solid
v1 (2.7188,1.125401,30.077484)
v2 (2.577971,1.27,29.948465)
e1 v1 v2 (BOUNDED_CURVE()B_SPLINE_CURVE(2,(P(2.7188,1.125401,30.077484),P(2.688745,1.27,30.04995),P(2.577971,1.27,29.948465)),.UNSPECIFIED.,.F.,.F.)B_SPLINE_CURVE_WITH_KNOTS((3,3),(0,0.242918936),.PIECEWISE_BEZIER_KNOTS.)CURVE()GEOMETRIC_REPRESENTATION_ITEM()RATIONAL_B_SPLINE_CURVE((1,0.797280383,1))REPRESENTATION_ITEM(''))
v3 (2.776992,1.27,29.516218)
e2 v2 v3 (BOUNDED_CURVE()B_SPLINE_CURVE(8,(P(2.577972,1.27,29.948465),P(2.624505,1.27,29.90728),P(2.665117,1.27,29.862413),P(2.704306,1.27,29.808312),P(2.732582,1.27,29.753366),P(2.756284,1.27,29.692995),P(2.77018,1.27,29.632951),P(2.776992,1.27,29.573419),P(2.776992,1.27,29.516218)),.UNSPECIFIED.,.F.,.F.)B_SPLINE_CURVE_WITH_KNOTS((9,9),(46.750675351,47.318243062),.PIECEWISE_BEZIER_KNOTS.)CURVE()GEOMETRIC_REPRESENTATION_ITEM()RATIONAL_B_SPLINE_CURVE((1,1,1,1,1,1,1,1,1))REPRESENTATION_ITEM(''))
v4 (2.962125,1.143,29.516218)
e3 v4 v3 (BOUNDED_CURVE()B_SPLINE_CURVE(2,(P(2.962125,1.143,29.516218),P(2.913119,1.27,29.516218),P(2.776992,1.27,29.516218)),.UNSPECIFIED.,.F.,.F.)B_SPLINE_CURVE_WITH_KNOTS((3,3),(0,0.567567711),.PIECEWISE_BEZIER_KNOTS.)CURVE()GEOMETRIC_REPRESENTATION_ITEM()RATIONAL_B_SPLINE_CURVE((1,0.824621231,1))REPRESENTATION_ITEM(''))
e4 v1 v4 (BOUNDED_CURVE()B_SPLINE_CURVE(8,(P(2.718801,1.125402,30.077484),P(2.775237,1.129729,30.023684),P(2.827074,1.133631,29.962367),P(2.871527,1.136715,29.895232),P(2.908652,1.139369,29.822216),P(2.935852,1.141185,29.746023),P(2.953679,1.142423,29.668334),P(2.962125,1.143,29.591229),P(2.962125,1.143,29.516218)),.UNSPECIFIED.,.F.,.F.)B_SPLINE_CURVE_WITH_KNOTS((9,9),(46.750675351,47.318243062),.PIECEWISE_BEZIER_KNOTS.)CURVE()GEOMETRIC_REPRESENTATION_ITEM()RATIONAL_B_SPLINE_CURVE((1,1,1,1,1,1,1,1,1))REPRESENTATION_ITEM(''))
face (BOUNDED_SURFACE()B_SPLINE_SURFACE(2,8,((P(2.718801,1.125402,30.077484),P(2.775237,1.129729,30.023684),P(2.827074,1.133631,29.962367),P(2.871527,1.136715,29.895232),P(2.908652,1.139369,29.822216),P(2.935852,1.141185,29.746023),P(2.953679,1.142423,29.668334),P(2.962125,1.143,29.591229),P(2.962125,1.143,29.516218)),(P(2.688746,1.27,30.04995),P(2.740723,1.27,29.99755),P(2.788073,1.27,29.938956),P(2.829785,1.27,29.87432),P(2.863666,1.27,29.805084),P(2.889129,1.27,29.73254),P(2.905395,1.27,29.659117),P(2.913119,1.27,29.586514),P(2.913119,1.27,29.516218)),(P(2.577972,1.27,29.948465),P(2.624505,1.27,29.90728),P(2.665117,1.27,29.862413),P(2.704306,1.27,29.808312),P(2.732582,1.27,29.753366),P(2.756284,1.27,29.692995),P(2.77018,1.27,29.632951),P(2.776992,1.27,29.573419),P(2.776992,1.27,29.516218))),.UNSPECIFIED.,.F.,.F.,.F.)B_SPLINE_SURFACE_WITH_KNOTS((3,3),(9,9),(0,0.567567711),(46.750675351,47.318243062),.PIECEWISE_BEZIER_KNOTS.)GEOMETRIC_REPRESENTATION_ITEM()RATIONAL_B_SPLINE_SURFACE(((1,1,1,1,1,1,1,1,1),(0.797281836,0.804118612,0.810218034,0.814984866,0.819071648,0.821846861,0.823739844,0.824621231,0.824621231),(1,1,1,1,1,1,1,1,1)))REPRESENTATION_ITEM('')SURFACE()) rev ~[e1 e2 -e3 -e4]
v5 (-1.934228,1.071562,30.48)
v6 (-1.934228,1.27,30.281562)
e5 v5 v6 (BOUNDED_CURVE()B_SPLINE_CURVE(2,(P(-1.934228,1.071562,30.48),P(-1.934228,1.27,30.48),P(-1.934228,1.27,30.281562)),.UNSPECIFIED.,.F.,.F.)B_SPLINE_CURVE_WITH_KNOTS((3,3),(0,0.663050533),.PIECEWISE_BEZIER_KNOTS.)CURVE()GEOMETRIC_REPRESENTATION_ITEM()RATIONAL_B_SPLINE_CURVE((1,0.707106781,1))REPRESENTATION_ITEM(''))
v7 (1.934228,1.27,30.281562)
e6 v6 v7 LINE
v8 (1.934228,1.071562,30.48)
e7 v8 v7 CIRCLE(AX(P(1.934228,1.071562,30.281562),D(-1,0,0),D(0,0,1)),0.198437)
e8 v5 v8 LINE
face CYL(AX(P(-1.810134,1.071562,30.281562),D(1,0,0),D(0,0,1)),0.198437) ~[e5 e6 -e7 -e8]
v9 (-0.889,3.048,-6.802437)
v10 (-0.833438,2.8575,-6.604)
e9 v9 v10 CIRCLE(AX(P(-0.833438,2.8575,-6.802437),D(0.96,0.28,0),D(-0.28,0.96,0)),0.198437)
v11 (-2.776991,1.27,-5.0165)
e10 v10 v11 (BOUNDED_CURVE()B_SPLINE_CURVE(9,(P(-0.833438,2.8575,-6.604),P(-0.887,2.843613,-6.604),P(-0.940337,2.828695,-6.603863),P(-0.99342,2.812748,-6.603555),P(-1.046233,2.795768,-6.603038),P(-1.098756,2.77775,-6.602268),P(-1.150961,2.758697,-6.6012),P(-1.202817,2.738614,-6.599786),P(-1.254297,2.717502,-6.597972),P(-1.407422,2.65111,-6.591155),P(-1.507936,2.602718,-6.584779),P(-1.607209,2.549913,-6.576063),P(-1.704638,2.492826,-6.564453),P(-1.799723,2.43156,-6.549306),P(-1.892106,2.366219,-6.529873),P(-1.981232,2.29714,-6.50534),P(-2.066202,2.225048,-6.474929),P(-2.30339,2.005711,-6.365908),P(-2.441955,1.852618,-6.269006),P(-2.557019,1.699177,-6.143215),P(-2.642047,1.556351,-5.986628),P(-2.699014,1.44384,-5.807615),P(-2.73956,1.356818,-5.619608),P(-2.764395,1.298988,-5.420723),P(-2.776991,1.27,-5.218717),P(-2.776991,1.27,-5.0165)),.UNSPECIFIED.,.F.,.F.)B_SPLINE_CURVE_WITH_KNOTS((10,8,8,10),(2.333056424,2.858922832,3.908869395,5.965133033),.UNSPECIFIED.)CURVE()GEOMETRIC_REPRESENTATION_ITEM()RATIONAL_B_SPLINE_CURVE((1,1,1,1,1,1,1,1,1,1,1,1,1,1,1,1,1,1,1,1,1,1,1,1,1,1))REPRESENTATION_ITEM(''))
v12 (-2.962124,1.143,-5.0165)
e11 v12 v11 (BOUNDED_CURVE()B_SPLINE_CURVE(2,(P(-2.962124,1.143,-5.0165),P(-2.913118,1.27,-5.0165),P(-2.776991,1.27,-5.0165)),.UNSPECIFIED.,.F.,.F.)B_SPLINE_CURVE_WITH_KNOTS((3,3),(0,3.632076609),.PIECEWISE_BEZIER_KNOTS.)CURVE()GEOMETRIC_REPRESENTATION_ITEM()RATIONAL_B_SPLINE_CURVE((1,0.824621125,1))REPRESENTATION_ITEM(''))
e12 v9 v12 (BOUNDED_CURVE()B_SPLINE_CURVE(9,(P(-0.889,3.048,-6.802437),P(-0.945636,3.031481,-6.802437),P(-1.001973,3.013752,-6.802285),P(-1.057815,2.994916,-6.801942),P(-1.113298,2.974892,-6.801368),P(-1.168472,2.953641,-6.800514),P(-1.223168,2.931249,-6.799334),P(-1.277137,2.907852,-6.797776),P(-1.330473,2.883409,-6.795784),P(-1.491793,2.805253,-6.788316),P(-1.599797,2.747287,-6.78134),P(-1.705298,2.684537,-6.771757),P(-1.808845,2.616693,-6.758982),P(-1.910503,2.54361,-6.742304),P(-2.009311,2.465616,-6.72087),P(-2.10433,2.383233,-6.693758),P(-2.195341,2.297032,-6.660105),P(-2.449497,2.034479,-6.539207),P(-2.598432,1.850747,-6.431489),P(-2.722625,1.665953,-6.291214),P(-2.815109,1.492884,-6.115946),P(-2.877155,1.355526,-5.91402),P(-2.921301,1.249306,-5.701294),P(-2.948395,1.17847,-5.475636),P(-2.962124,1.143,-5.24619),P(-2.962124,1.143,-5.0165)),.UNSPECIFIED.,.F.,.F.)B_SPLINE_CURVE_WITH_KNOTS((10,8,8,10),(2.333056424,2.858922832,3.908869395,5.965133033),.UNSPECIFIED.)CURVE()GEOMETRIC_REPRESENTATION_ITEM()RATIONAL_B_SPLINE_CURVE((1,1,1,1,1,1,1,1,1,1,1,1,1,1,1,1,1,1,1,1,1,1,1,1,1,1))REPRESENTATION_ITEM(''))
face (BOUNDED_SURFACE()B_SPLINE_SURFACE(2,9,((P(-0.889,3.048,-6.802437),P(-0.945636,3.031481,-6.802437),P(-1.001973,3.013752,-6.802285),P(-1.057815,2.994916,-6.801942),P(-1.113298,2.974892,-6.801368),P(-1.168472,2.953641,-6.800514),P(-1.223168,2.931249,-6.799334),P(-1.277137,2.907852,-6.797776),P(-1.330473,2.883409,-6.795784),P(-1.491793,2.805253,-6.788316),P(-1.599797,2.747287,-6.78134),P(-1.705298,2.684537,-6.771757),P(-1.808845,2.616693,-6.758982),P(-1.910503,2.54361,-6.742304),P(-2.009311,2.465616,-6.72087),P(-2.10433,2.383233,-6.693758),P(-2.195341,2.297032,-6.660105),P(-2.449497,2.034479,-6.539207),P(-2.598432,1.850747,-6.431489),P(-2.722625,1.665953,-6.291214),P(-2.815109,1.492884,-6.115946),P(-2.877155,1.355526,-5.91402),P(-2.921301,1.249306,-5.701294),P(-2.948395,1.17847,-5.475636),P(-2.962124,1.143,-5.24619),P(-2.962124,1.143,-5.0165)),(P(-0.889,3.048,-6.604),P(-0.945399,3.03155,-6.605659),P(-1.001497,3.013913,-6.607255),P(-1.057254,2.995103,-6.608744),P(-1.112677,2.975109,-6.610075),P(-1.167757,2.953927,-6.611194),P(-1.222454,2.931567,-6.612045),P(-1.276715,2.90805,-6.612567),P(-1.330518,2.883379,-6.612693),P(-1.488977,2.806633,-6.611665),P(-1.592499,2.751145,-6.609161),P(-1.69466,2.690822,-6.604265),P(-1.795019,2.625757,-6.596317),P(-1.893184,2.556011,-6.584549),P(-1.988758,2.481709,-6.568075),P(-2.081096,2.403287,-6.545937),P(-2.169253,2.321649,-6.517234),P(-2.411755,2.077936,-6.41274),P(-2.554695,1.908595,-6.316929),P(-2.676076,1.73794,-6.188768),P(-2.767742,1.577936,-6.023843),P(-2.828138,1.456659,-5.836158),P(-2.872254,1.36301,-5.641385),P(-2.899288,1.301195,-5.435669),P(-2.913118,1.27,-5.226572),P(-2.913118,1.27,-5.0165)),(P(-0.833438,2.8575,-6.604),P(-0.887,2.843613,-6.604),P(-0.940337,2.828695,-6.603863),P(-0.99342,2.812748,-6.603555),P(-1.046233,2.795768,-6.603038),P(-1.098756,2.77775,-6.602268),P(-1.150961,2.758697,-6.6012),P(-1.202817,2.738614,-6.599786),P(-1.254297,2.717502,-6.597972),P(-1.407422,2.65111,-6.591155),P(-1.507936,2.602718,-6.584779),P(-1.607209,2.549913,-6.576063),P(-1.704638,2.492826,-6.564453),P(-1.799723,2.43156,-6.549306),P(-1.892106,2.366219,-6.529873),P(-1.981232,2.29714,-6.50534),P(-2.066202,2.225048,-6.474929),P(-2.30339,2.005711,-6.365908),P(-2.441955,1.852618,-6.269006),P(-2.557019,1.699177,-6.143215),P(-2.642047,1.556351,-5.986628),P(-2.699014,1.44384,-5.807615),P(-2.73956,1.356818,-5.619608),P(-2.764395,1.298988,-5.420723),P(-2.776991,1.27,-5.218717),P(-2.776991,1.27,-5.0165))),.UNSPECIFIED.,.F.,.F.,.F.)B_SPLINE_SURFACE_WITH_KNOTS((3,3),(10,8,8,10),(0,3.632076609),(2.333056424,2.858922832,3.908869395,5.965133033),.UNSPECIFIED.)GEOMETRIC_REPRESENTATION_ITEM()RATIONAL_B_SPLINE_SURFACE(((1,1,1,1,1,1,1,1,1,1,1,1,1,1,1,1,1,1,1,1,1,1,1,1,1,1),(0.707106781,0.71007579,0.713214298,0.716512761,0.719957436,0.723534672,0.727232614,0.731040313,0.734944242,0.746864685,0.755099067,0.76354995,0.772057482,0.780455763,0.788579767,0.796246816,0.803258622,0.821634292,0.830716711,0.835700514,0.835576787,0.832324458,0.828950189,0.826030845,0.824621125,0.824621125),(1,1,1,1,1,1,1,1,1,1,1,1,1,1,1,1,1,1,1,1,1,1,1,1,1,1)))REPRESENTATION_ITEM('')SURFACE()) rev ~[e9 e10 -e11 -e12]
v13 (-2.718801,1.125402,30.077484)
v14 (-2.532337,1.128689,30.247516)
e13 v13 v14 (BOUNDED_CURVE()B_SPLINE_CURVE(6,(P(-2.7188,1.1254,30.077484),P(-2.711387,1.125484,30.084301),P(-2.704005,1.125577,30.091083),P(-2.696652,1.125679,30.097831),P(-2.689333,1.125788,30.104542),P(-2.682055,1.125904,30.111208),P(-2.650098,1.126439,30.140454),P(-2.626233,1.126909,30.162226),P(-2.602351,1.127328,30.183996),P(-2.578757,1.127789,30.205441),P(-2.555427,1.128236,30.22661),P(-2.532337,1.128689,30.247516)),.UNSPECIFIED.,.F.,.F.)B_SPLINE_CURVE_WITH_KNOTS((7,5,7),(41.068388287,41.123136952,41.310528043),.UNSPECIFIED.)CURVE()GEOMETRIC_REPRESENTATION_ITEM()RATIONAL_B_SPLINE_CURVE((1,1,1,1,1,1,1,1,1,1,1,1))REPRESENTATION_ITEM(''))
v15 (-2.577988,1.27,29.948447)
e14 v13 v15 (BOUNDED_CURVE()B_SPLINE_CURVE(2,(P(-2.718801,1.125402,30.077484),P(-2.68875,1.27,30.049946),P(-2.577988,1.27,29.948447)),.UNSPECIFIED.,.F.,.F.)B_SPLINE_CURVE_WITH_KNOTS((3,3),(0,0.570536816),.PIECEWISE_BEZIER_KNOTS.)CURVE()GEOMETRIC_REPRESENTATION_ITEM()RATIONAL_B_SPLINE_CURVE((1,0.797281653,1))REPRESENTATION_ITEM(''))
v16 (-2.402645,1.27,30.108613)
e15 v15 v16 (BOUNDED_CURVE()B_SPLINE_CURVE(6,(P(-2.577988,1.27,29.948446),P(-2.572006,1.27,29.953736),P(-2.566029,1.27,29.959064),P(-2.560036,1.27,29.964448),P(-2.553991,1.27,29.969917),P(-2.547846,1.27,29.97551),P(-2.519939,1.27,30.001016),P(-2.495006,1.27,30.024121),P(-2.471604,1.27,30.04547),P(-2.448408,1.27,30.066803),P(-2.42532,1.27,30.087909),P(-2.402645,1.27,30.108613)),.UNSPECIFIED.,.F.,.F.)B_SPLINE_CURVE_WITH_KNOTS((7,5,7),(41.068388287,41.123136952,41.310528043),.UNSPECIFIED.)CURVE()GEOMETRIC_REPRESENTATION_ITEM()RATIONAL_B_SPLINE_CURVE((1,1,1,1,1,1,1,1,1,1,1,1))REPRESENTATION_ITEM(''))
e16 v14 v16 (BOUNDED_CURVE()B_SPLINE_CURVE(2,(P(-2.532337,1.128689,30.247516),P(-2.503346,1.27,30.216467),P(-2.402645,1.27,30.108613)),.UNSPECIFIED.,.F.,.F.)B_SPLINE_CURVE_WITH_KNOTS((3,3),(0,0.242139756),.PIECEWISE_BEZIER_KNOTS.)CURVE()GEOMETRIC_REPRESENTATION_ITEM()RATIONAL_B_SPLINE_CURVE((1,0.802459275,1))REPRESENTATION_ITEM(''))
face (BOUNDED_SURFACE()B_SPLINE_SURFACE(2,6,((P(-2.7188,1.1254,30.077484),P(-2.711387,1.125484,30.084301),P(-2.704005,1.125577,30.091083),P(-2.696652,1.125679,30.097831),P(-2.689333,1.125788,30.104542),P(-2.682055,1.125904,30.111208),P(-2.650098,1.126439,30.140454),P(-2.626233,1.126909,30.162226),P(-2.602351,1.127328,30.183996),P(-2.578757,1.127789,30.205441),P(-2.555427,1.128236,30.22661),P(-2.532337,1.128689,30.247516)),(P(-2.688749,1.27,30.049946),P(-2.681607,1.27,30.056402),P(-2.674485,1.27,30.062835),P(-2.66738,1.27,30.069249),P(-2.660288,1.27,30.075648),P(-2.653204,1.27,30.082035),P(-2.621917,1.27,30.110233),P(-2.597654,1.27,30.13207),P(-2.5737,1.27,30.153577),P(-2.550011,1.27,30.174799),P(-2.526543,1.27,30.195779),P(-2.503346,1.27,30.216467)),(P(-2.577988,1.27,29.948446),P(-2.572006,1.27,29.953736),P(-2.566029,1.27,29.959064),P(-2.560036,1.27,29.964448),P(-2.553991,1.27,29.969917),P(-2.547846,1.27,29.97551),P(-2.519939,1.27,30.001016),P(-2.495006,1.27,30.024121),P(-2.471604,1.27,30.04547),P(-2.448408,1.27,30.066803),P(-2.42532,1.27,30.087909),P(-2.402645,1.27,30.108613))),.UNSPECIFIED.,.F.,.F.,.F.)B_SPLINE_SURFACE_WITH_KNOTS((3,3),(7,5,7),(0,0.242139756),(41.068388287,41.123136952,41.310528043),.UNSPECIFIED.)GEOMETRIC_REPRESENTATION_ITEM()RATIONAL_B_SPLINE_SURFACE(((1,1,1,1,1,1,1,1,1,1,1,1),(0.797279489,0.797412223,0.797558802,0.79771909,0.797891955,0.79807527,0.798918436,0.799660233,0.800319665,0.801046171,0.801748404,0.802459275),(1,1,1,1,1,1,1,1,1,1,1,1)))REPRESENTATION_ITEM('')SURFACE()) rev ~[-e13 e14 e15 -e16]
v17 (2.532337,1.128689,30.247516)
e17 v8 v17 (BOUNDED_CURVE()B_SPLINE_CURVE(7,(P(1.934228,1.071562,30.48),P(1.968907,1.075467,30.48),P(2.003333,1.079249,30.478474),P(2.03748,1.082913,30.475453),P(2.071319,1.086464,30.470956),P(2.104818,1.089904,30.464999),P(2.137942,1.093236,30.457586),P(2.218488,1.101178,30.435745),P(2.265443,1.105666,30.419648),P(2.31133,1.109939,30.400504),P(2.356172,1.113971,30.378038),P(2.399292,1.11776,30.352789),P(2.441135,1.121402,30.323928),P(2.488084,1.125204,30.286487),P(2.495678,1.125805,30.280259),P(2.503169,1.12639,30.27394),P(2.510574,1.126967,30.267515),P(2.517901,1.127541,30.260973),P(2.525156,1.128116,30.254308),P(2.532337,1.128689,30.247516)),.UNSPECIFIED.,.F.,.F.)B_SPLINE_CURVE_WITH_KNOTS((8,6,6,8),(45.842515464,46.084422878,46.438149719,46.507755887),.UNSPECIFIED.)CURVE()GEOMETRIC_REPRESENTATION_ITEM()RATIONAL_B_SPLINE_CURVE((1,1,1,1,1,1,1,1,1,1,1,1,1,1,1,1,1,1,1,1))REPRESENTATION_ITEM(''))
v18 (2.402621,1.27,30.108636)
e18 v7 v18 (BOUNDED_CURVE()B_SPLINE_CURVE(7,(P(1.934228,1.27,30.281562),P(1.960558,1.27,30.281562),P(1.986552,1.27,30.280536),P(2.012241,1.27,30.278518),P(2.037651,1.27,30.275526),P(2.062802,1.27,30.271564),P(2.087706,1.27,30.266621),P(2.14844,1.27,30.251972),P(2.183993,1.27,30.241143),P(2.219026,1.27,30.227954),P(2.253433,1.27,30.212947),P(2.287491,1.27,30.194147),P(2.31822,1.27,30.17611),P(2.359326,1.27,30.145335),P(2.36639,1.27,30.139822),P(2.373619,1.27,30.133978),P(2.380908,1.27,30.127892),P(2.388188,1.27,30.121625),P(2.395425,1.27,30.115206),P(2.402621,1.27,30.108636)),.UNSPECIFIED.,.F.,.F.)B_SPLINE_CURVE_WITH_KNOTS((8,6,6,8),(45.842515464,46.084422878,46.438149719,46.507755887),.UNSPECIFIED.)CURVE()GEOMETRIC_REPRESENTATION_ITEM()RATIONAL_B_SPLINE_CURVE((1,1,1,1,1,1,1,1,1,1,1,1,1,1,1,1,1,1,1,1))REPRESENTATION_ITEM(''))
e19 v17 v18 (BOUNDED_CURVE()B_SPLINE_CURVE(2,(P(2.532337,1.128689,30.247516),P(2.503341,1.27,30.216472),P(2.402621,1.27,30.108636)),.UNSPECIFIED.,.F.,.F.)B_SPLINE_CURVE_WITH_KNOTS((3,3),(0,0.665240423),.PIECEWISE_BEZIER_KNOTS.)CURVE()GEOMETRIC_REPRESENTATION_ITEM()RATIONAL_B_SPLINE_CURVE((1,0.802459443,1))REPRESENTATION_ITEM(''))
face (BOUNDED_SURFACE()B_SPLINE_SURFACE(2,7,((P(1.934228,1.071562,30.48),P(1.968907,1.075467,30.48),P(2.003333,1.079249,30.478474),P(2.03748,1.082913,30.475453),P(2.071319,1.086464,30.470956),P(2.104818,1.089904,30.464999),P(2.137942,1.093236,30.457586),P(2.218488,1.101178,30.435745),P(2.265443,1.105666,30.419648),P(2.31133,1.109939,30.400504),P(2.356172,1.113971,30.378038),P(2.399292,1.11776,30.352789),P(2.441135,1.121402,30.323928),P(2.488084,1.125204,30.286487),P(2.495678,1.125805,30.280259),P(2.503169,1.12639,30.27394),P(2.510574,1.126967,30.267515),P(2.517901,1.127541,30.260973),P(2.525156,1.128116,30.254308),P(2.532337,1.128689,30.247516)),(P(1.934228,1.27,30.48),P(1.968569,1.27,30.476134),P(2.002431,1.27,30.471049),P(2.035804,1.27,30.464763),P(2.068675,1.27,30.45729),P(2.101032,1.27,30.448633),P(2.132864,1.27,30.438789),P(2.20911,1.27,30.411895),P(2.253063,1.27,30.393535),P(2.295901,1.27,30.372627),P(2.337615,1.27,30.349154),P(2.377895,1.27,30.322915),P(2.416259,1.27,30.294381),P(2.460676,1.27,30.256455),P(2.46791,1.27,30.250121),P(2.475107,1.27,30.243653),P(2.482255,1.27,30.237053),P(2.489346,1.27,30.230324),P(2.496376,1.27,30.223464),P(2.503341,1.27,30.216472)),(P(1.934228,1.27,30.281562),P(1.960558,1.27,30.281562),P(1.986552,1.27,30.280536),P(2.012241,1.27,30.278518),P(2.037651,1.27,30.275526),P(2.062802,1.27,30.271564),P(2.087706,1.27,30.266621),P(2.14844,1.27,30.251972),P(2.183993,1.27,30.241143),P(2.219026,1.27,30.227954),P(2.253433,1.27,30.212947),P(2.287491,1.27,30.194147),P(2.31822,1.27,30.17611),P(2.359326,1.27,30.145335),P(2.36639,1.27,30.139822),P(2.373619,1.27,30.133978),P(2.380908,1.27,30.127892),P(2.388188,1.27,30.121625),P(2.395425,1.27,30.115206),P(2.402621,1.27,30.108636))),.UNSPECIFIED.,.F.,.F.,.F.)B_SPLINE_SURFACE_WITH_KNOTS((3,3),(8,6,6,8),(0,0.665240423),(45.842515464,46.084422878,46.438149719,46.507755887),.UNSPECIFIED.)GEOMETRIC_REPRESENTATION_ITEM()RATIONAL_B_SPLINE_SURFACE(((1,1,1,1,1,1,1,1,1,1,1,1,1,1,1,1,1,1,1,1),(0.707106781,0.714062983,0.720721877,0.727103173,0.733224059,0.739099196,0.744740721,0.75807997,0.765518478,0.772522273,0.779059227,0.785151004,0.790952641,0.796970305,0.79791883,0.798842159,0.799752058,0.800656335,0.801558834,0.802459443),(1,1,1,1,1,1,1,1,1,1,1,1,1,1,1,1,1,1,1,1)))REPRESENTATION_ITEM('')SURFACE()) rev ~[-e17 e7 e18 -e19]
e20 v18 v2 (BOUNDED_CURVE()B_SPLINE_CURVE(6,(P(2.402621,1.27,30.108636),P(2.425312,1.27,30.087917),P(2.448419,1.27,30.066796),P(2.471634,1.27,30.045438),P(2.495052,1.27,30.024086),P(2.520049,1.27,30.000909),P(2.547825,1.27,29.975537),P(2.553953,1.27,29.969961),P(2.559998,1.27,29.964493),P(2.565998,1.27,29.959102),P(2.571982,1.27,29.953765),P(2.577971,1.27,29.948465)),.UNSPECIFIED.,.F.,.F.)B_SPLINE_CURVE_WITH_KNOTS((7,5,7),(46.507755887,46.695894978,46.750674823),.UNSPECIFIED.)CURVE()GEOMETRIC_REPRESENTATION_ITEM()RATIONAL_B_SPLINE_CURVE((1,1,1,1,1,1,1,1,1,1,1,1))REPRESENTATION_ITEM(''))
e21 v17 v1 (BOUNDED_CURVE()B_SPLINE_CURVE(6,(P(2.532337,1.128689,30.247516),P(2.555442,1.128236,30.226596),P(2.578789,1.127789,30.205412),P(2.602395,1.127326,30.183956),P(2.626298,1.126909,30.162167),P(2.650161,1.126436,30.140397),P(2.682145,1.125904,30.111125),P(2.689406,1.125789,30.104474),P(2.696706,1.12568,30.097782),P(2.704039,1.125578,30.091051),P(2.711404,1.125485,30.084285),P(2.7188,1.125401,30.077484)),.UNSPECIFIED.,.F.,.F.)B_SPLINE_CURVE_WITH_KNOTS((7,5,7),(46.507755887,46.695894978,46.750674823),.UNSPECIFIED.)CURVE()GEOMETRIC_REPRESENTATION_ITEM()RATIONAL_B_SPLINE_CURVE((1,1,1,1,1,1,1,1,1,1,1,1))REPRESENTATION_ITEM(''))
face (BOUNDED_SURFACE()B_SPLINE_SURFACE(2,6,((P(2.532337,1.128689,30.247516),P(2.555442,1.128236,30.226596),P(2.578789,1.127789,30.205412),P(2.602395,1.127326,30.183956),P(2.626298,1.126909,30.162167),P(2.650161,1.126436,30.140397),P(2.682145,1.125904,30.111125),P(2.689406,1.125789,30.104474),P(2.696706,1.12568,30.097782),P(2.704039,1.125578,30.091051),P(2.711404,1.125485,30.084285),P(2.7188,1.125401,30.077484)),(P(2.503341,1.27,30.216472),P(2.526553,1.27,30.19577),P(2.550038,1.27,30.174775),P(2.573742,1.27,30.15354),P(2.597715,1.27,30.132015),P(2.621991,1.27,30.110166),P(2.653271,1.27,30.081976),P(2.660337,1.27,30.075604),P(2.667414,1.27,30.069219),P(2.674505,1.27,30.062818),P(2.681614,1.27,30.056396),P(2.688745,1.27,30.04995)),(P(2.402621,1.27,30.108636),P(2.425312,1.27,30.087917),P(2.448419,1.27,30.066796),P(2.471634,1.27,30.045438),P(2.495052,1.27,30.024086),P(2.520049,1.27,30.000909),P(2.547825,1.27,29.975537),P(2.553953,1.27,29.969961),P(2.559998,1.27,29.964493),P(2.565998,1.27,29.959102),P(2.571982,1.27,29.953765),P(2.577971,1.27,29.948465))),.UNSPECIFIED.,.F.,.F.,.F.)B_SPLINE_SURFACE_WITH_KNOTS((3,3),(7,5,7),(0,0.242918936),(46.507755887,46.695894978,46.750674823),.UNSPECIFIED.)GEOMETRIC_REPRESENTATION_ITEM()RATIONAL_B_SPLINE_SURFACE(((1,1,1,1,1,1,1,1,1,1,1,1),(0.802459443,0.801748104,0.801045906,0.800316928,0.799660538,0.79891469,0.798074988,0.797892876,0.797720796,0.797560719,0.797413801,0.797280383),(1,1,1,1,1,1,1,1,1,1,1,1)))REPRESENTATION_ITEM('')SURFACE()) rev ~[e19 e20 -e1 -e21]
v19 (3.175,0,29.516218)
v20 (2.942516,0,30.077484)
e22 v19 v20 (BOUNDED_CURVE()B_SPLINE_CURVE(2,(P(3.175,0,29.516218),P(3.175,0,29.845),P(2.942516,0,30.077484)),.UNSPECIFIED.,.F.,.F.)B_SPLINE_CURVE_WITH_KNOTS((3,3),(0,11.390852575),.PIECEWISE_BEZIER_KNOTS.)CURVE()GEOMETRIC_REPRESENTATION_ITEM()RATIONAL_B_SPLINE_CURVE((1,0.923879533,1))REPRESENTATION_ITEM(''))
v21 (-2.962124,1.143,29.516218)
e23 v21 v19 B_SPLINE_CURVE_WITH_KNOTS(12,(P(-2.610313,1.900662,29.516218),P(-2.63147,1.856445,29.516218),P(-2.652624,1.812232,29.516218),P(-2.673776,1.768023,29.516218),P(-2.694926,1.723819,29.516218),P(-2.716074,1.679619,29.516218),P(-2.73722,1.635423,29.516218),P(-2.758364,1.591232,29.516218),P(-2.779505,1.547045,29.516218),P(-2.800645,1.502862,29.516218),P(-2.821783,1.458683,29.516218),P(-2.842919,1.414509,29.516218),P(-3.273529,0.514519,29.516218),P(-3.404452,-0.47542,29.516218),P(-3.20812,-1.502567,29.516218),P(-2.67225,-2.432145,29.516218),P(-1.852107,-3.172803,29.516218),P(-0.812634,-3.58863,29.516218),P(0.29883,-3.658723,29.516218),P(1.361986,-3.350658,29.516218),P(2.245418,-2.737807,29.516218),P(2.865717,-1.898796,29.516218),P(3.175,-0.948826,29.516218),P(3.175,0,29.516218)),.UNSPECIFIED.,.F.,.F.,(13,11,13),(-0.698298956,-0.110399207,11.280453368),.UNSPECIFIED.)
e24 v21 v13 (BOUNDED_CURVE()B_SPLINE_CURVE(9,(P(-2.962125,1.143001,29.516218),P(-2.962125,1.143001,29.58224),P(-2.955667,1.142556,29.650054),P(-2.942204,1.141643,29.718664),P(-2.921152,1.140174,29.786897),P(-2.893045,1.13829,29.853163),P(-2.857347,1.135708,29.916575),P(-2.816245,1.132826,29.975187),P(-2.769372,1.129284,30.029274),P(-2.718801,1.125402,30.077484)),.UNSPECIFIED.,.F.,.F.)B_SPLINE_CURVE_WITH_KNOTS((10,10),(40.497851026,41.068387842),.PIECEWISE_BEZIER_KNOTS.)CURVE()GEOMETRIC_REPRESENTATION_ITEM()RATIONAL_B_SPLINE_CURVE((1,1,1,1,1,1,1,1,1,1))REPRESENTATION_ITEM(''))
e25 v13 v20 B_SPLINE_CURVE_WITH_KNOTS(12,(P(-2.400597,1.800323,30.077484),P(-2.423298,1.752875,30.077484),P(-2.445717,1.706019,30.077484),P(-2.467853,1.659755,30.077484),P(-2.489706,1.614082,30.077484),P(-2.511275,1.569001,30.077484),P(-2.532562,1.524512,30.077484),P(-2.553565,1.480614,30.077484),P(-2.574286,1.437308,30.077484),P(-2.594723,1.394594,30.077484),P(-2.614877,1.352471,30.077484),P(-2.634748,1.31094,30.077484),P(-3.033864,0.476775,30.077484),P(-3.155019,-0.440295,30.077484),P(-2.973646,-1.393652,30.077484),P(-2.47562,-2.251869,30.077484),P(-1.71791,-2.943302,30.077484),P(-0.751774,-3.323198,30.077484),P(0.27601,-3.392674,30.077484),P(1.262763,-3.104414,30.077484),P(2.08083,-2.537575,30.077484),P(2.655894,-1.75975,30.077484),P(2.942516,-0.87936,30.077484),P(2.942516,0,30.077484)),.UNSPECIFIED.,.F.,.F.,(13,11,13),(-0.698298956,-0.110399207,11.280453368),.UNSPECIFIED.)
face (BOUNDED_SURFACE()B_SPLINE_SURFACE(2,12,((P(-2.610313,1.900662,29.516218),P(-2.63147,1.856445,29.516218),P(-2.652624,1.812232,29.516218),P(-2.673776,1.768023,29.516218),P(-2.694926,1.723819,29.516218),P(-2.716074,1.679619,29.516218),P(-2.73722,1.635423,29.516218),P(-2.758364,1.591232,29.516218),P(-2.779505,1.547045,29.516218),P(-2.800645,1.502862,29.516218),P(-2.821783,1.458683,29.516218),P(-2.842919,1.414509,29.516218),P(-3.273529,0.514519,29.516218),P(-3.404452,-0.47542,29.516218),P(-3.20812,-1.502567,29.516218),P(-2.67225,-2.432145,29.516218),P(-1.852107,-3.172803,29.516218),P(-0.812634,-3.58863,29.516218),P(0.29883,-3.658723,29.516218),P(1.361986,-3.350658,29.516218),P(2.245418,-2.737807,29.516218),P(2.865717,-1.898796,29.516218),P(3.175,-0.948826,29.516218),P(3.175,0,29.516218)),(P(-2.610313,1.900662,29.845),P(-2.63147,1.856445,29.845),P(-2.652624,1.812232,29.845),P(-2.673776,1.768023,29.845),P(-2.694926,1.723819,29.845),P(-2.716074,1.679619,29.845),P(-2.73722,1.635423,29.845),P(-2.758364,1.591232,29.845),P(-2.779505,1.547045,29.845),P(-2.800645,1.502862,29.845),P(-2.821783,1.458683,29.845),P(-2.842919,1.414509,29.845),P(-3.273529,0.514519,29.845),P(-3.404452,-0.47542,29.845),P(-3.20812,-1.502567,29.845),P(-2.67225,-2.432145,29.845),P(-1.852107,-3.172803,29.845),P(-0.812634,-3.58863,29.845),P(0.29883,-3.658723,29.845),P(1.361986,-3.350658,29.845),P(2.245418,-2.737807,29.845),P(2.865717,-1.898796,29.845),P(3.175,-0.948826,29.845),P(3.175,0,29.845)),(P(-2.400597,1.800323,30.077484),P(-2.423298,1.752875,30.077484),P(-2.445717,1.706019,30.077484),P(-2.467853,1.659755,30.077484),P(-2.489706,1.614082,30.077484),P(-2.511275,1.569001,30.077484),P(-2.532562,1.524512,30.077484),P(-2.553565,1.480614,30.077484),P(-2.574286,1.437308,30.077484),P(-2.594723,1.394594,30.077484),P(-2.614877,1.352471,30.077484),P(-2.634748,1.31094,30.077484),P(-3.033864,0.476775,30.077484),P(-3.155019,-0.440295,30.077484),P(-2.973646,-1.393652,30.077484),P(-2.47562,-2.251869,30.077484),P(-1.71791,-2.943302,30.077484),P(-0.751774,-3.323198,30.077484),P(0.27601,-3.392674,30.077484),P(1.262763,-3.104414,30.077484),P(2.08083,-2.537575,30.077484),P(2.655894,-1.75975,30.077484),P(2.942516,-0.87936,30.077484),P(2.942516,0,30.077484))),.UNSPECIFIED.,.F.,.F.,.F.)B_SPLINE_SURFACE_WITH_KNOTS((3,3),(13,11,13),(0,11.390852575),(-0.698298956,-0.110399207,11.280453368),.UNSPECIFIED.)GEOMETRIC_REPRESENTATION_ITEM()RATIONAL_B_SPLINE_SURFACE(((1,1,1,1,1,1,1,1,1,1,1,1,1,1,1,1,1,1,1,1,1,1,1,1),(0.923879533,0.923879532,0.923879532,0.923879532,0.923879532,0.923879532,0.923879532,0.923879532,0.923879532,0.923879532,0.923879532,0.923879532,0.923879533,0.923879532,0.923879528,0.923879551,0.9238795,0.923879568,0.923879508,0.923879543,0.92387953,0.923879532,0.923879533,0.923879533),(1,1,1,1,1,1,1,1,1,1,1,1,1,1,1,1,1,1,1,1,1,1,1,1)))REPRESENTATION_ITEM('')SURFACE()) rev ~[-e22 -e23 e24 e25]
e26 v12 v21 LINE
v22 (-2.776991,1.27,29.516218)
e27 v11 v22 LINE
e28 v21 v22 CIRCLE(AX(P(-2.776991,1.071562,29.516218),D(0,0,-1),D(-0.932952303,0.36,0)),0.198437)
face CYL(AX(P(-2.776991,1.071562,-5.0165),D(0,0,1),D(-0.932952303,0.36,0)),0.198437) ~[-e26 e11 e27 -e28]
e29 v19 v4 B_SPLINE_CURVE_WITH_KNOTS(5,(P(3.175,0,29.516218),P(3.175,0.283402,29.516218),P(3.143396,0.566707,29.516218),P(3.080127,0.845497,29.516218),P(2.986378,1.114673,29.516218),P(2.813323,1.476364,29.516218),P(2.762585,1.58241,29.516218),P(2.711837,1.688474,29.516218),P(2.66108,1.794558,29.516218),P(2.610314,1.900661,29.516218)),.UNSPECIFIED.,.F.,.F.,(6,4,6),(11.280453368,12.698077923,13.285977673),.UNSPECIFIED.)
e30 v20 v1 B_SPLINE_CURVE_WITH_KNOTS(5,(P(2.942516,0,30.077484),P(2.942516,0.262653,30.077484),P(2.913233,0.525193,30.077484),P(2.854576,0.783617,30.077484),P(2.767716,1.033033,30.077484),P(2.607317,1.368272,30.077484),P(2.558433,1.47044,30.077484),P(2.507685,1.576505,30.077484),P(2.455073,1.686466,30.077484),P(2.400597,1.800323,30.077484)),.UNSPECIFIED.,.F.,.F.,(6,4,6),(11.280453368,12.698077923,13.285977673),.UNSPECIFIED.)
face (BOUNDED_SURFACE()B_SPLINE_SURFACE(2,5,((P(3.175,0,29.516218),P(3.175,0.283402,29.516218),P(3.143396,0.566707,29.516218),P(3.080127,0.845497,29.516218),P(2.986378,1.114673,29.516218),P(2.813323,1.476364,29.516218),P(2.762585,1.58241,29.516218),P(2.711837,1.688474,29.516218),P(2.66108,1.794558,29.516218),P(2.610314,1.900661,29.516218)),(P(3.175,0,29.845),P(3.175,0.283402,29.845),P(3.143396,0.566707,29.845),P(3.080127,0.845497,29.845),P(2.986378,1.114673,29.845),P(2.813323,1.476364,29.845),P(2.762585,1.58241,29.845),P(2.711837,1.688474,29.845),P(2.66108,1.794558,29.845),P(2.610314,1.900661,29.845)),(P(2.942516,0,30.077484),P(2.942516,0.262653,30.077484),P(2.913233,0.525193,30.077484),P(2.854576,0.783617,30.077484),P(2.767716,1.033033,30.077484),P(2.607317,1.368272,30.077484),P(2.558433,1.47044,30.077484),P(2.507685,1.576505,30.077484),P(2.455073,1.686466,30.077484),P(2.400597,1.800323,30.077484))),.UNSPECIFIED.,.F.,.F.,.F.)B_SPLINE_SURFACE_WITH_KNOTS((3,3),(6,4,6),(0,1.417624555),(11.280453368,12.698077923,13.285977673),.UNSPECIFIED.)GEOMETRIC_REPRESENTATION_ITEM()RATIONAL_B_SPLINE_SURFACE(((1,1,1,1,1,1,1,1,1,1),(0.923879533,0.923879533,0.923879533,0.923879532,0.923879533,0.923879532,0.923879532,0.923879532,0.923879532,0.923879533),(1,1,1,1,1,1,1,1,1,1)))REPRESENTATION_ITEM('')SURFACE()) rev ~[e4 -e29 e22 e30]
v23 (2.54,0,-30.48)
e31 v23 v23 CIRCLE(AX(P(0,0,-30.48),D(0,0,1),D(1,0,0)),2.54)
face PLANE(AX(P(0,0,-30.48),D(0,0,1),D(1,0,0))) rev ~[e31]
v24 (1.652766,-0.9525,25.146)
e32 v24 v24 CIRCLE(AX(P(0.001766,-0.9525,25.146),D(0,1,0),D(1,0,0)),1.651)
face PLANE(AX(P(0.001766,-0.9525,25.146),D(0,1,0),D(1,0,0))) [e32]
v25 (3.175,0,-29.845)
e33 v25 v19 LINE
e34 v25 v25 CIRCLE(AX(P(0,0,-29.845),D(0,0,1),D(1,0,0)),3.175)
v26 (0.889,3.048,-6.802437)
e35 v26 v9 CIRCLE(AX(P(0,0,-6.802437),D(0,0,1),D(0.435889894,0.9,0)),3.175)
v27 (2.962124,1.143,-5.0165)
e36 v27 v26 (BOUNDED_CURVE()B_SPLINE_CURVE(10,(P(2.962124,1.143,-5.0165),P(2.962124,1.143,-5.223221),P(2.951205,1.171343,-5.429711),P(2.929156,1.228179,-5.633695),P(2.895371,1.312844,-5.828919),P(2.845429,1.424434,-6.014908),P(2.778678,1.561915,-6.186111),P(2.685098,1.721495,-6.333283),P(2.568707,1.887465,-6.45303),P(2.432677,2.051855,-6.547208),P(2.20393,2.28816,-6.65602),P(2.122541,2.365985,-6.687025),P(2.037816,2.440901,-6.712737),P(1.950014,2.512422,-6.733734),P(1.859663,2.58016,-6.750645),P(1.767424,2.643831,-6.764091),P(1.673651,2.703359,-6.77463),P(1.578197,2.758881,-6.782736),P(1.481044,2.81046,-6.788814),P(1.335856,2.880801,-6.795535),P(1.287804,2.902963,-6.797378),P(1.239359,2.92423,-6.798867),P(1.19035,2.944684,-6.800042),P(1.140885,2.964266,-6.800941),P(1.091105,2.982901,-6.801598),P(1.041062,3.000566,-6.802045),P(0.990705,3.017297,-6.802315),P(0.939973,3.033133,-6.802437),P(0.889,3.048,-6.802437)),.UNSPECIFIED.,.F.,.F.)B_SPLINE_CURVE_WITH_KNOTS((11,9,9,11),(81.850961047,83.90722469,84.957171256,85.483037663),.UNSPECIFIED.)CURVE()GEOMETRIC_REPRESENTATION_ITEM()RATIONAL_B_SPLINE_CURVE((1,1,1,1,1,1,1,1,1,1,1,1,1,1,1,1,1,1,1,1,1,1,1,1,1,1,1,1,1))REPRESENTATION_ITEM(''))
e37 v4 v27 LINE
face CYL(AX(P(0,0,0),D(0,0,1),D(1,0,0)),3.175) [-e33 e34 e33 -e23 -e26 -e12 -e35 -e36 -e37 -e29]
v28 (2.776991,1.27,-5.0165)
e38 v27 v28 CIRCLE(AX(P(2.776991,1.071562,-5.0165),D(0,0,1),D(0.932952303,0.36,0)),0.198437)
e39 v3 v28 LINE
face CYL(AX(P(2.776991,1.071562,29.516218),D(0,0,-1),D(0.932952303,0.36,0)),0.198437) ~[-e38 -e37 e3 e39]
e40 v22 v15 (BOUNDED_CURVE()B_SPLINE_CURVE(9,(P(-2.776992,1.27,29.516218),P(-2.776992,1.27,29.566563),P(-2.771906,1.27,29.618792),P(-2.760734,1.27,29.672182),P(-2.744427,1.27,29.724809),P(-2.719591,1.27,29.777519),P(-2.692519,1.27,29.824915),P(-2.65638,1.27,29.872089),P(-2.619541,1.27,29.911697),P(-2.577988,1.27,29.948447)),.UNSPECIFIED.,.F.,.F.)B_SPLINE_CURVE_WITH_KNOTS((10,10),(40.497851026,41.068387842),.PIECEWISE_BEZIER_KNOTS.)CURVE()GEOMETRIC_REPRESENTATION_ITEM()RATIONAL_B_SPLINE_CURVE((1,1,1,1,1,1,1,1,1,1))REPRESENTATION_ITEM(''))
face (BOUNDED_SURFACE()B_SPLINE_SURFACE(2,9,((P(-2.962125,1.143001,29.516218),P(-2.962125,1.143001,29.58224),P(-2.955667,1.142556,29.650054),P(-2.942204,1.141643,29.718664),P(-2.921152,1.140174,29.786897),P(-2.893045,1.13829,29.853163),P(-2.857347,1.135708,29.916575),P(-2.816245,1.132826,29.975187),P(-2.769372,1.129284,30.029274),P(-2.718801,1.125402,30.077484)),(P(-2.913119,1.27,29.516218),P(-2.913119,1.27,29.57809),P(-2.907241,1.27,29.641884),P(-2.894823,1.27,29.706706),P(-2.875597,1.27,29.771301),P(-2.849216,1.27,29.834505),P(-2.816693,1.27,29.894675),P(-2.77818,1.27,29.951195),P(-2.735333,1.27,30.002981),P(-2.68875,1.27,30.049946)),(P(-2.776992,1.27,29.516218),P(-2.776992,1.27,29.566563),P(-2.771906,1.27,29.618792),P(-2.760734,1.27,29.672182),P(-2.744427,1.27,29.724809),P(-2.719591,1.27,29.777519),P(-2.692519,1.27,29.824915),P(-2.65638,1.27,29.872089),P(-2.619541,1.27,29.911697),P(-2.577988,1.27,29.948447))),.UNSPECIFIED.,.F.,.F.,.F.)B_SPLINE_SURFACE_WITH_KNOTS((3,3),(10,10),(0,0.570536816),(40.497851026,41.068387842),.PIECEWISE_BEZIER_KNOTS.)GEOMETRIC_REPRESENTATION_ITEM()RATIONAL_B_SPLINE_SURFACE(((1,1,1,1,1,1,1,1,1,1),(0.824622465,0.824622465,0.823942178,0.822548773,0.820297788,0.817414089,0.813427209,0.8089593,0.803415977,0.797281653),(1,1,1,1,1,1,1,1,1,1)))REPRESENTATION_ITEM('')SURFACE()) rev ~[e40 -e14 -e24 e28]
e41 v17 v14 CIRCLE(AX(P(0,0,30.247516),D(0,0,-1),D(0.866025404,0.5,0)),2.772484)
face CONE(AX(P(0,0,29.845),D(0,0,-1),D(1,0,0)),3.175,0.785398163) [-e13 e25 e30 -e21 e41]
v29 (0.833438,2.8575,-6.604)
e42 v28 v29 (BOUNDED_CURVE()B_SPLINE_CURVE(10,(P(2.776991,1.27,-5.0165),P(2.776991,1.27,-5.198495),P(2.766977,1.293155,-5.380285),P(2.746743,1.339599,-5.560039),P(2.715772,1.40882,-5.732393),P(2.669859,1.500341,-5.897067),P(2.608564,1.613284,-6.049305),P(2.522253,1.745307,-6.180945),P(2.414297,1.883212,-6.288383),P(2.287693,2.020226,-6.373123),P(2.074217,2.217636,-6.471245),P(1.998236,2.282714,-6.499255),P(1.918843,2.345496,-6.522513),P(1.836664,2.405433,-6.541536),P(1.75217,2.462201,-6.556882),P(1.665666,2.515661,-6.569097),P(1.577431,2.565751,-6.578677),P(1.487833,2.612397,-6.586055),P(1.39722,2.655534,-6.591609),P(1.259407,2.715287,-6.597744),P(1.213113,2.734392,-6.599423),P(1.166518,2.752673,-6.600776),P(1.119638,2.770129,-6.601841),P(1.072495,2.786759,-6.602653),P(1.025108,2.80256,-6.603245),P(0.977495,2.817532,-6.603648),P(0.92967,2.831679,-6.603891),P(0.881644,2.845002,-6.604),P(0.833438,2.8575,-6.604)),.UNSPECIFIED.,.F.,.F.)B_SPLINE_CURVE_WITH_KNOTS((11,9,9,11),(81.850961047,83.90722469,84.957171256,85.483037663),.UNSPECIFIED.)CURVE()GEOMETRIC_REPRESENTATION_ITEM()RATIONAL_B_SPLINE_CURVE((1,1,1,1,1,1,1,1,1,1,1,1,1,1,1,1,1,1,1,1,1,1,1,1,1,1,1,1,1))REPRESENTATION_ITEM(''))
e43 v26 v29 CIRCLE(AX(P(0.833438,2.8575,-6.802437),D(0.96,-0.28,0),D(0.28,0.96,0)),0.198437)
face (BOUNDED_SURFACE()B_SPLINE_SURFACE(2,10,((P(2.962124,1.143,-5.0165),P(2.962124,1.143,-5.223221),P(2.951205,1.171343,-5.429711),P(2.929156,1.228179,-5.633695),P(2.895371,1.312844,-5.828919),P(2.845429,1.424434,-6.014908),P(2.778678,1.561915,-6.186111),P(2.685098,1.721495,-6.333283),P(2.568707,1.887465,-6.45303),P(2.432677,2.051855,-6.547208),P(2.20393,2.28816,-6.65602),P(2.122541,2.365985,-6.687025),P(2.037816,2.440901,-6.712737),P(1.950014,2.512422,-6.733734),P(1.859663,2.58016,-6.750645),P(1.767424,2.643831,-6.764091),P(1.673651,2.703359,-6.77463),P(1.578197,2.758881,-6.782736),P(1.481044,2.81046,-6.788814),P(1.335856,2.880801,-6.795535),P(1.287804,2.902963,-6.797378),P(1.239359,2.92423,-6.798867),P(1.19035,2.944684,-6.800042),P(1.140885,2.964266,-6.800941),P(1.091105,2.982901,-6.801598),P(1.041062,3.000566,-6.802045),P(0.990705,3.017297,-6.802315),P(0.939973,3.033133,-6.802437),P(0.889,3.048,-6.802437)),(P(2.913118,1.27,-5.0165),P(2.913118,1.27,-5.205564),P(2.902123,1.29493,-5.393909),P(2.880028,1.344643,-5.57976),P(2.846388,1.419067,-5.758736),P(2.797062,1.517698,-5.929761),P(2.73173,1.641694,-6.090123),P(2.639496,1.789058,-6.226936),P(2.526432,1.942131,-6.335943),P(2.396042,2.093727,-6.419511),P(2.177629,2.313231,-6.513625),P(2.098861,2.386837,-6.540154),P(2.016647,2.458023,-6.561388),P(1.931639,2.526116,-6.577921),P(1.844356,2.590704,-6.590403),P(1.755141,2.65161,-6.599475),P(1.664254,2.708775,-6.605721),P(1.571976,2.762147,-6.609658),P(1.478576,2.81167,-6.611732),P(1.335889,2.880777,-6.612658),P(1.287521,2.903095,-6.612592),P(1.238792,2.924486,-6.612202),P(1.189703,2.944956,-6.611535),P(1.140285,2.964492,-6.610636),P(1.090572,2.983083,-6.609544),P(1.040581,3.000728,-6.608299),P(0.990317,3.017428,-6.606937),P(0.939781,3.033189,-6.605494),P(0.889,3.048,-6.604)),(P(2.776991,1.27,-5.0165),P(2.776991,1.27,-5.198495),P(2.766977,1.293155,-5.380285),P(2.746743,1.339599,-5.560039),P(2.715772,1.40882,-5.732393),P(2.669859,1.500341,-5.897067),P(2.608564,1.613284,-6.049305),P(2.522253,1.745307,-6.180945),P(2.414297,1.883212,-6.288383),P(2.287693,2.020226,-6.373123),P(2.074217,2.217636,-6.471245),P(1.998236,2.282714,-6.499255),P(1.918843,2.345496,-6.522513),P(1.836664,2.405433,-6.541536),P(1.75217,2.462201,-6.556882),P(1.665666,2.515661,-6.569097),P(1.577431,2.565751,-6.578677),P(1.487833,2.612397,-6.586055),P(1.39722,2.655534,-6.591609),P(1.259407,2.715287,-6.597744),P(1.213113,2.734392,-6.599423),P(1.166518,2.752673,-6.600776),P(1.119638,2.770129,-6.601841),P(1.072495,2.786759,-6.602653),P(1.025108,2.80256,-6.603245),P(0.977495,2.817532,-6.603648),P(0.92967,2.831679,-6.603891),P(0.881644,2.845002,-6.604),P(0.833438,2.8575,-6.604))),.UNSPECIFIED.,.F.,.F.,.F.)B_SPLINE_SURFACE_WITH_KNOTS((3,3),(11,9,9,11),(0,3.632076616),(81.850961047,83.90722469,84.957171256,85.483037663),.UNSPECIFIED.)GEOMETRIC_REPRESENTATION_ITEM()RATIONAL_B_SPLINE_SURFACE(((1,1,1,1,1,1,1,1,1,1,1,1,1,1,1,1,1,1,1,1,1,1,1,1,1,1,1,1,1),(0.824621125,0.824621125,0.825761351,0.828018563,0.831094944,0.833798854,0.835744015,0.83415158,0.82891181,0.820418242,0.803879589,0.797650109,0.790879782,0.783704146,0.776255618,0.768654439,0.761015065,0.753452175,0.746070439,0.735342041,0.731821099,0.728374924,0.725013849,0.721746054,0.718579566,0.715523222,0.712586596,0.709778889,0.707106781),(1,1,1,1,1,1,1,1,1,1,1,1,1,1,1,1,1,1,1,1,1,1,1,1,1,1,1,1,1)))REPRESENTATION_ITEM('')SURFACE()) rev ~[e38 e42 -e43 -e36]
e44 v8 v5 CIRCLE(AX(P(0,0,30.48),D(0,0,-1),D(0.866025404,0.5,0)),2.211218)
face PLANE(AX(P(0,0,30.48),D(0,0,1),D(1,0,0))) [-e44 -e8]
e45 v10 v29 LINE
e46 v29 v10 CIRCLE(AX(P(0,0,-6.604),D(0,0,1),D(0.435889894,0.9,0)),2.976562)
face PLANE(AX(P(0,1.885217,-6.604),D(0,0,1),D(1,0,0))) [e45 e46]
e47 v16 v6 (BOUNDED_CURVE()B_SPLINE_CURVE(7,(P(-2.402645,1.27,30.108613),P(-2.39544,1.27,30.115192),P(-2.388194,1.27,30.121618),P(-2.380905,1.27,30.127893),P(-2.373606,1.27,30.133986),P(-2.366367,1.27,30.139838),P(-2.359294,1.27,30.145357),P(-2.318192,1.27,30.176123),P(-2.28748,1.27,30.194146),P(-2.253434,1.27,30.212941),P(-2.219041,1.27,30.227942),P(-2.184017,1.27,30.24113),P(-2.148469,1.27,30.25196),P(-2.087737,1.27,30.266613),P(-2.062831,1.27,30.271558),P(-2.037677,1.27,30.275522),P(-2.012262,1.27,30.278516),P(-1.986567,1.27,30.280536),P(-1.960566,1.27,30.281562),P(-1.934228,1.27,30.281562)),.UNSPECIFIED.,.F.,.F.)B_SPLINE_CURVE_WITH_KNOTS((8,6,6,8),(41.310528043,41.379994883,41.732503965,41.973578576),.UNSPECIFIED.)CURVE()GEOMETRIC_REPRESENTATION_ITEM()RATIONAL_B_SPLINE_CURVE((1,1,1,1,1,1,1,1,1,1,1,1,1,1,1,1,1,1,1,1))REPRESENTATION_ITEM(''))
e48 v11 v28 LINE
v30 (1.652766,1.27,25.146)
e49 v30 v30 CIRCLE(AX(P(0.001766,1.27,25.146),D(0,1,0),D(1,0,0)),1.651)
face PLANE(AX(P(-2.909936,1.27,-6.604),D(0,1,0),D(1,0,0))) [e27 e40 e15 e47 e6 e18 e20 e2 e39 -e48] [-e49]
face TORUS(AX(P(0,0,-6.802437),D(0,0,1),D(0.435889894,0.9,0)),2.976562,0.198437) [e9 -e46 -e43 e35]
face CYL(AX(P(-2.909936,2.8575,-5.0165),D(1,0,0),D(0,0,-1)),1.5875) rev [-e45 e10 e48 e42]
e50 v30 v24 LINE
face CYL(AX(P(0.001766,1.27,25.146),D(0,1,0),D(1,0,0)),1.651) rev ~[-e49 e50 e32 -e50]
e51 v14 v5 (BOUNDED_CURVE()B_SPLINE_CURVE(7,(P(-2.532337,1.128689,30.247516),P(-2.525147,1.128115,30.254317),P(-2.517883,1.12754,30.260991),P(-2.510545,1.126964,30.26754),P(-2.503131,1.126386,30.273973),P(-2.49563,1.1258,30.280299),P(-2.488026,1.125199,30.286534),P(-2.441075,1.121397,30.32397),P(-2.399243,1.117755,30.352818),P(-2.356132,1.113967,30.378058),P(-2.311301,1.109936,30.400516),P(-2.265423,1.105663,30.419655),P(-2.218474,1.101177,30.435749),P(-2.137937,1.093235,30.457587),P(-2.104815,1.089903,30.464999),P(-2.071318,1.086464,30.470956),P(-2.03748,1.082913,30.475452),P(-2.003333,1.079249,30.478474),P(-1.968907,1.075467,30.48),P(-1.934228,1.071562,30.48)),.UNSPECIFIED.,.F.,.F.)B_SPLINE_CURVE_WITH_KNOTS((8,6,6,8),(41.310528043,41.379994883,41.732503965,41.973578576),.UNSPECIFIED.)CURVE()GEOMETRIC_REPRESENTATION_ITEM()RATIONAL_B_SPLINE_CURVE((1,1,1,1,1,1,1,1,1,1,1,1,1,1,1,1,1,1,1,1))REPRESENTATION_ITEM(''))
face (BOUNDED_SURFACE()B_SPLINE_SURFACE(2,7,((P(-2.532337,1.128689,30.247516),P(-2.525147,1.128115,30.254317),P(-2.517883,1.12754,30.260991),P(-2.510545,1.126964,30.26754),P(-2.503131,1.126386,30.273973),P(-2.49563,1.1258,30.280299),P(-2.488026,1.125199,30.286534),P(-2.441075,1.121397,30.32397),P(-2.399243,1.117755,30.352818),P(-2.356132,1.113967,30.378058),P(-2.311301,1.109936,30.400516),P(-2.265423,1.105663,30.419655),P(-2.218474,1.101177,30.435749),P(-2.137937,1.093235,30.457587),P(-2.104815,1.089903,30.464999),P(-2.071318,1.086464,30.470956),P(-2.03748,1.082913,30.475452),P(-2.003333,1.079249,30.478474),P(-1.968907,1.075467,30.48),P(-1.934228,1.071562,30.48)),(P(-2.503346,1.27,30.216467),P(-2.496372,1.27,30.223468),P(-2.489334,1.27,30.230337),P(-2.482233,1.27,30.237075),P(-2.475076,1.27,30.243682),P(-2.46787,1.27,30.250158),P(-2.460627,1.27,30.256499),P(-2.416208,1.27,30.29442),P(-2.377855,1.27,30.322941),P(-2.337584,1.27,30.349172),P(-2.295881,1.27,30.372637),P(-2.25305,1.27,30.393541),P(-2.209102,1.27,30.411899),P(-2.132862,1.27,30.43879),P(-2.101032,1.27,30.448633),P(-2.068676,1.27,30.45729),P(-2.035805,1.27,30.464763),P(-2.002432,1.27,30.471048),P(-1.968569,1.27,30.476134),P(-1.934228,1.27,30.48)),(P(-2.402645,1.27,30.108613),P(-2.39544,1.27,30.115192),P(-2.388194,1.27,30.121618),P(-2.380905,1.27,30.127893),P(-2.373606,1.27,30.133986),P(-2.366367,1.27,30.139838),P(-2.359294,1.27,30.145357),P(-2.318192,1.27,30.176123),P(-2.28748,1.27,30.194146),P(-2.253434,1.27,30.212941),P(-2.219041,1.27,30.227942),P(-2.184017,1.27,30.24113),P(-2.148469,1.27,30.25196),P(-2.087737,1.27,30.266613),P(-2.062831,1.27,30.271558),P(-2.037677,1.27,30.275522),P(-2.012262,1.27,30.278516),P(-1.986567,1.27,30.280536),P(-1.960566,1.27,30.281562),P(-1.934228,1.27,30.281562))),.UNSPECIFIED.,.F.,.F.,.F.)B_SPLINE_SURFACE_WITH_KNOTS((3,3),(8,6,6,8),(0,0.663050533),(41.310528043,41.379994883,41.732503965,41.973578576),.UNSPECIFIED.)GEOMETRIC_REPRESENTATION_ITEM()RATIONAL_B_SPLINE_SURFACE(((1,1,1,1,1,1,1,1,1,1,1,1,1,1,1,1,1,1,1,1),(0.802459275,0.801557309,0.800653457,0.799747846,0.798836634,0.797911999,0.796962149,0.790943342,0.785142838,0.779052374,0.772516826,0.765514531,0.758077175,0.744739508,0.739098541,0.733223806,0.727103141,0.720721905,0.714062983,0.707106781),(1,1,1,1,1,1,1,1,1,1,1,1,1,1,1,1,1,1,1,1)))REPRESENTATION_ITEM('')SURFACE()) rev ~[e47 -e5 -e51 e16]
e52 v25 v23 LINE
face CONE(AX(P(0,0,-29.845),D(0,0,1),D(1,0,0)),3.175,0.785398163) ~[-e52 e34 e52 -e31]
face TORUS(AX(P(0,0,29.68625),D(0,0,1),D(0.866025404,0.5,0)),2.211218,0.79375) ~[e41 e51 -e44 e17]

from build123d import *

# Parameters (mm, degrees)
SKETCH1_R          = 3.175
EXTRUDE1_DEPTH     = 30.48
CHAMFER1_SIZE      = 0.635
EXTRUDE7_DEPTH     = 38.084
FILLET1_R          = 1.5875
FILLET3_R          = 0.79375
FILLET4_R          = 0.1984375
SKETCH14_R         = 1.651
CUT_EXTRUDE1_DEPTH = 2.2225


with BuildPart() as part:
    # Sketch1 → Extrude1 (new body, symmetric)
    with BuildSketch(Plane.XY):
        Circle(SKETCH1_R)
    extrude(amount=EXTRUDE1_DEPTH, both=True)

    # Chamfer1
    chamfer1_edges = [part.edges().sort_by_distance(p)[0] for p in [
        (-3.175, 0, -30.48),
        (-3.175, 0, 30.48),
    ]]
    chamfer(chamfer1_edges, length=CHAMFER1_SIZE)

    # Sketch13 → Extrude7 (cut, through all)
    with BuildSketch(Plane.XY.offset(-6.604)):
        with BuildLine():
            Line((-2.909935566, 1.27), (2.909935566, 1.27))
            ThreePointArc((2.909935566, 1.27), (0, 3.175), (-2.909935566, 1.27))
        make_face()
    extrude(amount=EXTRUDE7_DEPTH, mode=Mode.SUBTRACT)

    # Fillet1
    fillet1_edges = [part.edges().sort_by_distance(p)[0] for p in [
        (0, 1.27, -6.604),
    ]]
    fillet(fillet1_edges, radius=FILLET1_R)

    # Fillet3
    fillet3_edges = [part.edges().sort_by_distance(p)[0] for p in [
        (0, -2.54, 30.48),
        (-0.648683119, -3.108027544, 29.845),
    ]]
    fillet(fillet3_edges, radius=FILLET3_R)

    # Fillet4
    fillet4_edges = [part.edges().sort_by_distance(p)[0] for p in [
        (0, 3.175, -6.604),
        (2.5327835, 1.914584225, -6.29363198),
        (-2.5327835, 1.914584225, -6.29363198),
        (0, 1.27, 30.48),
        (2.909935566, 1.27, 12.249858992),
        (-2.909935566, 1.27, 12.249858992),
        (-2.559573738, 1.27, 30.162672977),
        (2.559573738, 1.27, 30.162672977),
        (2.842060138, 1.27, 29.823974262),
        (-2.842060075, 1.27, 29.823974247),
        (-2.158993926, 1.27, 30.423700487),
        (2.158993926, 1.27, 30.423700487),
    ]]
    fillet(fillet4_edges, radius=FILLET4_R)

    # Sketch14 → Cut-Extrude1 (cut)
    with BuildSketch(Plane(origin=(0, 1.27, 0), x_dir=(1, 0, 0), z_dir=(0, 1, 0))):
        with Locations((0.001765627, -25.146)):
            Circle(SKETCH14_R)
    extrude(amount=-CUT_EXTRUDE1_DEPTH, mode=Mode.SUBTRACT)


solid = part.part
